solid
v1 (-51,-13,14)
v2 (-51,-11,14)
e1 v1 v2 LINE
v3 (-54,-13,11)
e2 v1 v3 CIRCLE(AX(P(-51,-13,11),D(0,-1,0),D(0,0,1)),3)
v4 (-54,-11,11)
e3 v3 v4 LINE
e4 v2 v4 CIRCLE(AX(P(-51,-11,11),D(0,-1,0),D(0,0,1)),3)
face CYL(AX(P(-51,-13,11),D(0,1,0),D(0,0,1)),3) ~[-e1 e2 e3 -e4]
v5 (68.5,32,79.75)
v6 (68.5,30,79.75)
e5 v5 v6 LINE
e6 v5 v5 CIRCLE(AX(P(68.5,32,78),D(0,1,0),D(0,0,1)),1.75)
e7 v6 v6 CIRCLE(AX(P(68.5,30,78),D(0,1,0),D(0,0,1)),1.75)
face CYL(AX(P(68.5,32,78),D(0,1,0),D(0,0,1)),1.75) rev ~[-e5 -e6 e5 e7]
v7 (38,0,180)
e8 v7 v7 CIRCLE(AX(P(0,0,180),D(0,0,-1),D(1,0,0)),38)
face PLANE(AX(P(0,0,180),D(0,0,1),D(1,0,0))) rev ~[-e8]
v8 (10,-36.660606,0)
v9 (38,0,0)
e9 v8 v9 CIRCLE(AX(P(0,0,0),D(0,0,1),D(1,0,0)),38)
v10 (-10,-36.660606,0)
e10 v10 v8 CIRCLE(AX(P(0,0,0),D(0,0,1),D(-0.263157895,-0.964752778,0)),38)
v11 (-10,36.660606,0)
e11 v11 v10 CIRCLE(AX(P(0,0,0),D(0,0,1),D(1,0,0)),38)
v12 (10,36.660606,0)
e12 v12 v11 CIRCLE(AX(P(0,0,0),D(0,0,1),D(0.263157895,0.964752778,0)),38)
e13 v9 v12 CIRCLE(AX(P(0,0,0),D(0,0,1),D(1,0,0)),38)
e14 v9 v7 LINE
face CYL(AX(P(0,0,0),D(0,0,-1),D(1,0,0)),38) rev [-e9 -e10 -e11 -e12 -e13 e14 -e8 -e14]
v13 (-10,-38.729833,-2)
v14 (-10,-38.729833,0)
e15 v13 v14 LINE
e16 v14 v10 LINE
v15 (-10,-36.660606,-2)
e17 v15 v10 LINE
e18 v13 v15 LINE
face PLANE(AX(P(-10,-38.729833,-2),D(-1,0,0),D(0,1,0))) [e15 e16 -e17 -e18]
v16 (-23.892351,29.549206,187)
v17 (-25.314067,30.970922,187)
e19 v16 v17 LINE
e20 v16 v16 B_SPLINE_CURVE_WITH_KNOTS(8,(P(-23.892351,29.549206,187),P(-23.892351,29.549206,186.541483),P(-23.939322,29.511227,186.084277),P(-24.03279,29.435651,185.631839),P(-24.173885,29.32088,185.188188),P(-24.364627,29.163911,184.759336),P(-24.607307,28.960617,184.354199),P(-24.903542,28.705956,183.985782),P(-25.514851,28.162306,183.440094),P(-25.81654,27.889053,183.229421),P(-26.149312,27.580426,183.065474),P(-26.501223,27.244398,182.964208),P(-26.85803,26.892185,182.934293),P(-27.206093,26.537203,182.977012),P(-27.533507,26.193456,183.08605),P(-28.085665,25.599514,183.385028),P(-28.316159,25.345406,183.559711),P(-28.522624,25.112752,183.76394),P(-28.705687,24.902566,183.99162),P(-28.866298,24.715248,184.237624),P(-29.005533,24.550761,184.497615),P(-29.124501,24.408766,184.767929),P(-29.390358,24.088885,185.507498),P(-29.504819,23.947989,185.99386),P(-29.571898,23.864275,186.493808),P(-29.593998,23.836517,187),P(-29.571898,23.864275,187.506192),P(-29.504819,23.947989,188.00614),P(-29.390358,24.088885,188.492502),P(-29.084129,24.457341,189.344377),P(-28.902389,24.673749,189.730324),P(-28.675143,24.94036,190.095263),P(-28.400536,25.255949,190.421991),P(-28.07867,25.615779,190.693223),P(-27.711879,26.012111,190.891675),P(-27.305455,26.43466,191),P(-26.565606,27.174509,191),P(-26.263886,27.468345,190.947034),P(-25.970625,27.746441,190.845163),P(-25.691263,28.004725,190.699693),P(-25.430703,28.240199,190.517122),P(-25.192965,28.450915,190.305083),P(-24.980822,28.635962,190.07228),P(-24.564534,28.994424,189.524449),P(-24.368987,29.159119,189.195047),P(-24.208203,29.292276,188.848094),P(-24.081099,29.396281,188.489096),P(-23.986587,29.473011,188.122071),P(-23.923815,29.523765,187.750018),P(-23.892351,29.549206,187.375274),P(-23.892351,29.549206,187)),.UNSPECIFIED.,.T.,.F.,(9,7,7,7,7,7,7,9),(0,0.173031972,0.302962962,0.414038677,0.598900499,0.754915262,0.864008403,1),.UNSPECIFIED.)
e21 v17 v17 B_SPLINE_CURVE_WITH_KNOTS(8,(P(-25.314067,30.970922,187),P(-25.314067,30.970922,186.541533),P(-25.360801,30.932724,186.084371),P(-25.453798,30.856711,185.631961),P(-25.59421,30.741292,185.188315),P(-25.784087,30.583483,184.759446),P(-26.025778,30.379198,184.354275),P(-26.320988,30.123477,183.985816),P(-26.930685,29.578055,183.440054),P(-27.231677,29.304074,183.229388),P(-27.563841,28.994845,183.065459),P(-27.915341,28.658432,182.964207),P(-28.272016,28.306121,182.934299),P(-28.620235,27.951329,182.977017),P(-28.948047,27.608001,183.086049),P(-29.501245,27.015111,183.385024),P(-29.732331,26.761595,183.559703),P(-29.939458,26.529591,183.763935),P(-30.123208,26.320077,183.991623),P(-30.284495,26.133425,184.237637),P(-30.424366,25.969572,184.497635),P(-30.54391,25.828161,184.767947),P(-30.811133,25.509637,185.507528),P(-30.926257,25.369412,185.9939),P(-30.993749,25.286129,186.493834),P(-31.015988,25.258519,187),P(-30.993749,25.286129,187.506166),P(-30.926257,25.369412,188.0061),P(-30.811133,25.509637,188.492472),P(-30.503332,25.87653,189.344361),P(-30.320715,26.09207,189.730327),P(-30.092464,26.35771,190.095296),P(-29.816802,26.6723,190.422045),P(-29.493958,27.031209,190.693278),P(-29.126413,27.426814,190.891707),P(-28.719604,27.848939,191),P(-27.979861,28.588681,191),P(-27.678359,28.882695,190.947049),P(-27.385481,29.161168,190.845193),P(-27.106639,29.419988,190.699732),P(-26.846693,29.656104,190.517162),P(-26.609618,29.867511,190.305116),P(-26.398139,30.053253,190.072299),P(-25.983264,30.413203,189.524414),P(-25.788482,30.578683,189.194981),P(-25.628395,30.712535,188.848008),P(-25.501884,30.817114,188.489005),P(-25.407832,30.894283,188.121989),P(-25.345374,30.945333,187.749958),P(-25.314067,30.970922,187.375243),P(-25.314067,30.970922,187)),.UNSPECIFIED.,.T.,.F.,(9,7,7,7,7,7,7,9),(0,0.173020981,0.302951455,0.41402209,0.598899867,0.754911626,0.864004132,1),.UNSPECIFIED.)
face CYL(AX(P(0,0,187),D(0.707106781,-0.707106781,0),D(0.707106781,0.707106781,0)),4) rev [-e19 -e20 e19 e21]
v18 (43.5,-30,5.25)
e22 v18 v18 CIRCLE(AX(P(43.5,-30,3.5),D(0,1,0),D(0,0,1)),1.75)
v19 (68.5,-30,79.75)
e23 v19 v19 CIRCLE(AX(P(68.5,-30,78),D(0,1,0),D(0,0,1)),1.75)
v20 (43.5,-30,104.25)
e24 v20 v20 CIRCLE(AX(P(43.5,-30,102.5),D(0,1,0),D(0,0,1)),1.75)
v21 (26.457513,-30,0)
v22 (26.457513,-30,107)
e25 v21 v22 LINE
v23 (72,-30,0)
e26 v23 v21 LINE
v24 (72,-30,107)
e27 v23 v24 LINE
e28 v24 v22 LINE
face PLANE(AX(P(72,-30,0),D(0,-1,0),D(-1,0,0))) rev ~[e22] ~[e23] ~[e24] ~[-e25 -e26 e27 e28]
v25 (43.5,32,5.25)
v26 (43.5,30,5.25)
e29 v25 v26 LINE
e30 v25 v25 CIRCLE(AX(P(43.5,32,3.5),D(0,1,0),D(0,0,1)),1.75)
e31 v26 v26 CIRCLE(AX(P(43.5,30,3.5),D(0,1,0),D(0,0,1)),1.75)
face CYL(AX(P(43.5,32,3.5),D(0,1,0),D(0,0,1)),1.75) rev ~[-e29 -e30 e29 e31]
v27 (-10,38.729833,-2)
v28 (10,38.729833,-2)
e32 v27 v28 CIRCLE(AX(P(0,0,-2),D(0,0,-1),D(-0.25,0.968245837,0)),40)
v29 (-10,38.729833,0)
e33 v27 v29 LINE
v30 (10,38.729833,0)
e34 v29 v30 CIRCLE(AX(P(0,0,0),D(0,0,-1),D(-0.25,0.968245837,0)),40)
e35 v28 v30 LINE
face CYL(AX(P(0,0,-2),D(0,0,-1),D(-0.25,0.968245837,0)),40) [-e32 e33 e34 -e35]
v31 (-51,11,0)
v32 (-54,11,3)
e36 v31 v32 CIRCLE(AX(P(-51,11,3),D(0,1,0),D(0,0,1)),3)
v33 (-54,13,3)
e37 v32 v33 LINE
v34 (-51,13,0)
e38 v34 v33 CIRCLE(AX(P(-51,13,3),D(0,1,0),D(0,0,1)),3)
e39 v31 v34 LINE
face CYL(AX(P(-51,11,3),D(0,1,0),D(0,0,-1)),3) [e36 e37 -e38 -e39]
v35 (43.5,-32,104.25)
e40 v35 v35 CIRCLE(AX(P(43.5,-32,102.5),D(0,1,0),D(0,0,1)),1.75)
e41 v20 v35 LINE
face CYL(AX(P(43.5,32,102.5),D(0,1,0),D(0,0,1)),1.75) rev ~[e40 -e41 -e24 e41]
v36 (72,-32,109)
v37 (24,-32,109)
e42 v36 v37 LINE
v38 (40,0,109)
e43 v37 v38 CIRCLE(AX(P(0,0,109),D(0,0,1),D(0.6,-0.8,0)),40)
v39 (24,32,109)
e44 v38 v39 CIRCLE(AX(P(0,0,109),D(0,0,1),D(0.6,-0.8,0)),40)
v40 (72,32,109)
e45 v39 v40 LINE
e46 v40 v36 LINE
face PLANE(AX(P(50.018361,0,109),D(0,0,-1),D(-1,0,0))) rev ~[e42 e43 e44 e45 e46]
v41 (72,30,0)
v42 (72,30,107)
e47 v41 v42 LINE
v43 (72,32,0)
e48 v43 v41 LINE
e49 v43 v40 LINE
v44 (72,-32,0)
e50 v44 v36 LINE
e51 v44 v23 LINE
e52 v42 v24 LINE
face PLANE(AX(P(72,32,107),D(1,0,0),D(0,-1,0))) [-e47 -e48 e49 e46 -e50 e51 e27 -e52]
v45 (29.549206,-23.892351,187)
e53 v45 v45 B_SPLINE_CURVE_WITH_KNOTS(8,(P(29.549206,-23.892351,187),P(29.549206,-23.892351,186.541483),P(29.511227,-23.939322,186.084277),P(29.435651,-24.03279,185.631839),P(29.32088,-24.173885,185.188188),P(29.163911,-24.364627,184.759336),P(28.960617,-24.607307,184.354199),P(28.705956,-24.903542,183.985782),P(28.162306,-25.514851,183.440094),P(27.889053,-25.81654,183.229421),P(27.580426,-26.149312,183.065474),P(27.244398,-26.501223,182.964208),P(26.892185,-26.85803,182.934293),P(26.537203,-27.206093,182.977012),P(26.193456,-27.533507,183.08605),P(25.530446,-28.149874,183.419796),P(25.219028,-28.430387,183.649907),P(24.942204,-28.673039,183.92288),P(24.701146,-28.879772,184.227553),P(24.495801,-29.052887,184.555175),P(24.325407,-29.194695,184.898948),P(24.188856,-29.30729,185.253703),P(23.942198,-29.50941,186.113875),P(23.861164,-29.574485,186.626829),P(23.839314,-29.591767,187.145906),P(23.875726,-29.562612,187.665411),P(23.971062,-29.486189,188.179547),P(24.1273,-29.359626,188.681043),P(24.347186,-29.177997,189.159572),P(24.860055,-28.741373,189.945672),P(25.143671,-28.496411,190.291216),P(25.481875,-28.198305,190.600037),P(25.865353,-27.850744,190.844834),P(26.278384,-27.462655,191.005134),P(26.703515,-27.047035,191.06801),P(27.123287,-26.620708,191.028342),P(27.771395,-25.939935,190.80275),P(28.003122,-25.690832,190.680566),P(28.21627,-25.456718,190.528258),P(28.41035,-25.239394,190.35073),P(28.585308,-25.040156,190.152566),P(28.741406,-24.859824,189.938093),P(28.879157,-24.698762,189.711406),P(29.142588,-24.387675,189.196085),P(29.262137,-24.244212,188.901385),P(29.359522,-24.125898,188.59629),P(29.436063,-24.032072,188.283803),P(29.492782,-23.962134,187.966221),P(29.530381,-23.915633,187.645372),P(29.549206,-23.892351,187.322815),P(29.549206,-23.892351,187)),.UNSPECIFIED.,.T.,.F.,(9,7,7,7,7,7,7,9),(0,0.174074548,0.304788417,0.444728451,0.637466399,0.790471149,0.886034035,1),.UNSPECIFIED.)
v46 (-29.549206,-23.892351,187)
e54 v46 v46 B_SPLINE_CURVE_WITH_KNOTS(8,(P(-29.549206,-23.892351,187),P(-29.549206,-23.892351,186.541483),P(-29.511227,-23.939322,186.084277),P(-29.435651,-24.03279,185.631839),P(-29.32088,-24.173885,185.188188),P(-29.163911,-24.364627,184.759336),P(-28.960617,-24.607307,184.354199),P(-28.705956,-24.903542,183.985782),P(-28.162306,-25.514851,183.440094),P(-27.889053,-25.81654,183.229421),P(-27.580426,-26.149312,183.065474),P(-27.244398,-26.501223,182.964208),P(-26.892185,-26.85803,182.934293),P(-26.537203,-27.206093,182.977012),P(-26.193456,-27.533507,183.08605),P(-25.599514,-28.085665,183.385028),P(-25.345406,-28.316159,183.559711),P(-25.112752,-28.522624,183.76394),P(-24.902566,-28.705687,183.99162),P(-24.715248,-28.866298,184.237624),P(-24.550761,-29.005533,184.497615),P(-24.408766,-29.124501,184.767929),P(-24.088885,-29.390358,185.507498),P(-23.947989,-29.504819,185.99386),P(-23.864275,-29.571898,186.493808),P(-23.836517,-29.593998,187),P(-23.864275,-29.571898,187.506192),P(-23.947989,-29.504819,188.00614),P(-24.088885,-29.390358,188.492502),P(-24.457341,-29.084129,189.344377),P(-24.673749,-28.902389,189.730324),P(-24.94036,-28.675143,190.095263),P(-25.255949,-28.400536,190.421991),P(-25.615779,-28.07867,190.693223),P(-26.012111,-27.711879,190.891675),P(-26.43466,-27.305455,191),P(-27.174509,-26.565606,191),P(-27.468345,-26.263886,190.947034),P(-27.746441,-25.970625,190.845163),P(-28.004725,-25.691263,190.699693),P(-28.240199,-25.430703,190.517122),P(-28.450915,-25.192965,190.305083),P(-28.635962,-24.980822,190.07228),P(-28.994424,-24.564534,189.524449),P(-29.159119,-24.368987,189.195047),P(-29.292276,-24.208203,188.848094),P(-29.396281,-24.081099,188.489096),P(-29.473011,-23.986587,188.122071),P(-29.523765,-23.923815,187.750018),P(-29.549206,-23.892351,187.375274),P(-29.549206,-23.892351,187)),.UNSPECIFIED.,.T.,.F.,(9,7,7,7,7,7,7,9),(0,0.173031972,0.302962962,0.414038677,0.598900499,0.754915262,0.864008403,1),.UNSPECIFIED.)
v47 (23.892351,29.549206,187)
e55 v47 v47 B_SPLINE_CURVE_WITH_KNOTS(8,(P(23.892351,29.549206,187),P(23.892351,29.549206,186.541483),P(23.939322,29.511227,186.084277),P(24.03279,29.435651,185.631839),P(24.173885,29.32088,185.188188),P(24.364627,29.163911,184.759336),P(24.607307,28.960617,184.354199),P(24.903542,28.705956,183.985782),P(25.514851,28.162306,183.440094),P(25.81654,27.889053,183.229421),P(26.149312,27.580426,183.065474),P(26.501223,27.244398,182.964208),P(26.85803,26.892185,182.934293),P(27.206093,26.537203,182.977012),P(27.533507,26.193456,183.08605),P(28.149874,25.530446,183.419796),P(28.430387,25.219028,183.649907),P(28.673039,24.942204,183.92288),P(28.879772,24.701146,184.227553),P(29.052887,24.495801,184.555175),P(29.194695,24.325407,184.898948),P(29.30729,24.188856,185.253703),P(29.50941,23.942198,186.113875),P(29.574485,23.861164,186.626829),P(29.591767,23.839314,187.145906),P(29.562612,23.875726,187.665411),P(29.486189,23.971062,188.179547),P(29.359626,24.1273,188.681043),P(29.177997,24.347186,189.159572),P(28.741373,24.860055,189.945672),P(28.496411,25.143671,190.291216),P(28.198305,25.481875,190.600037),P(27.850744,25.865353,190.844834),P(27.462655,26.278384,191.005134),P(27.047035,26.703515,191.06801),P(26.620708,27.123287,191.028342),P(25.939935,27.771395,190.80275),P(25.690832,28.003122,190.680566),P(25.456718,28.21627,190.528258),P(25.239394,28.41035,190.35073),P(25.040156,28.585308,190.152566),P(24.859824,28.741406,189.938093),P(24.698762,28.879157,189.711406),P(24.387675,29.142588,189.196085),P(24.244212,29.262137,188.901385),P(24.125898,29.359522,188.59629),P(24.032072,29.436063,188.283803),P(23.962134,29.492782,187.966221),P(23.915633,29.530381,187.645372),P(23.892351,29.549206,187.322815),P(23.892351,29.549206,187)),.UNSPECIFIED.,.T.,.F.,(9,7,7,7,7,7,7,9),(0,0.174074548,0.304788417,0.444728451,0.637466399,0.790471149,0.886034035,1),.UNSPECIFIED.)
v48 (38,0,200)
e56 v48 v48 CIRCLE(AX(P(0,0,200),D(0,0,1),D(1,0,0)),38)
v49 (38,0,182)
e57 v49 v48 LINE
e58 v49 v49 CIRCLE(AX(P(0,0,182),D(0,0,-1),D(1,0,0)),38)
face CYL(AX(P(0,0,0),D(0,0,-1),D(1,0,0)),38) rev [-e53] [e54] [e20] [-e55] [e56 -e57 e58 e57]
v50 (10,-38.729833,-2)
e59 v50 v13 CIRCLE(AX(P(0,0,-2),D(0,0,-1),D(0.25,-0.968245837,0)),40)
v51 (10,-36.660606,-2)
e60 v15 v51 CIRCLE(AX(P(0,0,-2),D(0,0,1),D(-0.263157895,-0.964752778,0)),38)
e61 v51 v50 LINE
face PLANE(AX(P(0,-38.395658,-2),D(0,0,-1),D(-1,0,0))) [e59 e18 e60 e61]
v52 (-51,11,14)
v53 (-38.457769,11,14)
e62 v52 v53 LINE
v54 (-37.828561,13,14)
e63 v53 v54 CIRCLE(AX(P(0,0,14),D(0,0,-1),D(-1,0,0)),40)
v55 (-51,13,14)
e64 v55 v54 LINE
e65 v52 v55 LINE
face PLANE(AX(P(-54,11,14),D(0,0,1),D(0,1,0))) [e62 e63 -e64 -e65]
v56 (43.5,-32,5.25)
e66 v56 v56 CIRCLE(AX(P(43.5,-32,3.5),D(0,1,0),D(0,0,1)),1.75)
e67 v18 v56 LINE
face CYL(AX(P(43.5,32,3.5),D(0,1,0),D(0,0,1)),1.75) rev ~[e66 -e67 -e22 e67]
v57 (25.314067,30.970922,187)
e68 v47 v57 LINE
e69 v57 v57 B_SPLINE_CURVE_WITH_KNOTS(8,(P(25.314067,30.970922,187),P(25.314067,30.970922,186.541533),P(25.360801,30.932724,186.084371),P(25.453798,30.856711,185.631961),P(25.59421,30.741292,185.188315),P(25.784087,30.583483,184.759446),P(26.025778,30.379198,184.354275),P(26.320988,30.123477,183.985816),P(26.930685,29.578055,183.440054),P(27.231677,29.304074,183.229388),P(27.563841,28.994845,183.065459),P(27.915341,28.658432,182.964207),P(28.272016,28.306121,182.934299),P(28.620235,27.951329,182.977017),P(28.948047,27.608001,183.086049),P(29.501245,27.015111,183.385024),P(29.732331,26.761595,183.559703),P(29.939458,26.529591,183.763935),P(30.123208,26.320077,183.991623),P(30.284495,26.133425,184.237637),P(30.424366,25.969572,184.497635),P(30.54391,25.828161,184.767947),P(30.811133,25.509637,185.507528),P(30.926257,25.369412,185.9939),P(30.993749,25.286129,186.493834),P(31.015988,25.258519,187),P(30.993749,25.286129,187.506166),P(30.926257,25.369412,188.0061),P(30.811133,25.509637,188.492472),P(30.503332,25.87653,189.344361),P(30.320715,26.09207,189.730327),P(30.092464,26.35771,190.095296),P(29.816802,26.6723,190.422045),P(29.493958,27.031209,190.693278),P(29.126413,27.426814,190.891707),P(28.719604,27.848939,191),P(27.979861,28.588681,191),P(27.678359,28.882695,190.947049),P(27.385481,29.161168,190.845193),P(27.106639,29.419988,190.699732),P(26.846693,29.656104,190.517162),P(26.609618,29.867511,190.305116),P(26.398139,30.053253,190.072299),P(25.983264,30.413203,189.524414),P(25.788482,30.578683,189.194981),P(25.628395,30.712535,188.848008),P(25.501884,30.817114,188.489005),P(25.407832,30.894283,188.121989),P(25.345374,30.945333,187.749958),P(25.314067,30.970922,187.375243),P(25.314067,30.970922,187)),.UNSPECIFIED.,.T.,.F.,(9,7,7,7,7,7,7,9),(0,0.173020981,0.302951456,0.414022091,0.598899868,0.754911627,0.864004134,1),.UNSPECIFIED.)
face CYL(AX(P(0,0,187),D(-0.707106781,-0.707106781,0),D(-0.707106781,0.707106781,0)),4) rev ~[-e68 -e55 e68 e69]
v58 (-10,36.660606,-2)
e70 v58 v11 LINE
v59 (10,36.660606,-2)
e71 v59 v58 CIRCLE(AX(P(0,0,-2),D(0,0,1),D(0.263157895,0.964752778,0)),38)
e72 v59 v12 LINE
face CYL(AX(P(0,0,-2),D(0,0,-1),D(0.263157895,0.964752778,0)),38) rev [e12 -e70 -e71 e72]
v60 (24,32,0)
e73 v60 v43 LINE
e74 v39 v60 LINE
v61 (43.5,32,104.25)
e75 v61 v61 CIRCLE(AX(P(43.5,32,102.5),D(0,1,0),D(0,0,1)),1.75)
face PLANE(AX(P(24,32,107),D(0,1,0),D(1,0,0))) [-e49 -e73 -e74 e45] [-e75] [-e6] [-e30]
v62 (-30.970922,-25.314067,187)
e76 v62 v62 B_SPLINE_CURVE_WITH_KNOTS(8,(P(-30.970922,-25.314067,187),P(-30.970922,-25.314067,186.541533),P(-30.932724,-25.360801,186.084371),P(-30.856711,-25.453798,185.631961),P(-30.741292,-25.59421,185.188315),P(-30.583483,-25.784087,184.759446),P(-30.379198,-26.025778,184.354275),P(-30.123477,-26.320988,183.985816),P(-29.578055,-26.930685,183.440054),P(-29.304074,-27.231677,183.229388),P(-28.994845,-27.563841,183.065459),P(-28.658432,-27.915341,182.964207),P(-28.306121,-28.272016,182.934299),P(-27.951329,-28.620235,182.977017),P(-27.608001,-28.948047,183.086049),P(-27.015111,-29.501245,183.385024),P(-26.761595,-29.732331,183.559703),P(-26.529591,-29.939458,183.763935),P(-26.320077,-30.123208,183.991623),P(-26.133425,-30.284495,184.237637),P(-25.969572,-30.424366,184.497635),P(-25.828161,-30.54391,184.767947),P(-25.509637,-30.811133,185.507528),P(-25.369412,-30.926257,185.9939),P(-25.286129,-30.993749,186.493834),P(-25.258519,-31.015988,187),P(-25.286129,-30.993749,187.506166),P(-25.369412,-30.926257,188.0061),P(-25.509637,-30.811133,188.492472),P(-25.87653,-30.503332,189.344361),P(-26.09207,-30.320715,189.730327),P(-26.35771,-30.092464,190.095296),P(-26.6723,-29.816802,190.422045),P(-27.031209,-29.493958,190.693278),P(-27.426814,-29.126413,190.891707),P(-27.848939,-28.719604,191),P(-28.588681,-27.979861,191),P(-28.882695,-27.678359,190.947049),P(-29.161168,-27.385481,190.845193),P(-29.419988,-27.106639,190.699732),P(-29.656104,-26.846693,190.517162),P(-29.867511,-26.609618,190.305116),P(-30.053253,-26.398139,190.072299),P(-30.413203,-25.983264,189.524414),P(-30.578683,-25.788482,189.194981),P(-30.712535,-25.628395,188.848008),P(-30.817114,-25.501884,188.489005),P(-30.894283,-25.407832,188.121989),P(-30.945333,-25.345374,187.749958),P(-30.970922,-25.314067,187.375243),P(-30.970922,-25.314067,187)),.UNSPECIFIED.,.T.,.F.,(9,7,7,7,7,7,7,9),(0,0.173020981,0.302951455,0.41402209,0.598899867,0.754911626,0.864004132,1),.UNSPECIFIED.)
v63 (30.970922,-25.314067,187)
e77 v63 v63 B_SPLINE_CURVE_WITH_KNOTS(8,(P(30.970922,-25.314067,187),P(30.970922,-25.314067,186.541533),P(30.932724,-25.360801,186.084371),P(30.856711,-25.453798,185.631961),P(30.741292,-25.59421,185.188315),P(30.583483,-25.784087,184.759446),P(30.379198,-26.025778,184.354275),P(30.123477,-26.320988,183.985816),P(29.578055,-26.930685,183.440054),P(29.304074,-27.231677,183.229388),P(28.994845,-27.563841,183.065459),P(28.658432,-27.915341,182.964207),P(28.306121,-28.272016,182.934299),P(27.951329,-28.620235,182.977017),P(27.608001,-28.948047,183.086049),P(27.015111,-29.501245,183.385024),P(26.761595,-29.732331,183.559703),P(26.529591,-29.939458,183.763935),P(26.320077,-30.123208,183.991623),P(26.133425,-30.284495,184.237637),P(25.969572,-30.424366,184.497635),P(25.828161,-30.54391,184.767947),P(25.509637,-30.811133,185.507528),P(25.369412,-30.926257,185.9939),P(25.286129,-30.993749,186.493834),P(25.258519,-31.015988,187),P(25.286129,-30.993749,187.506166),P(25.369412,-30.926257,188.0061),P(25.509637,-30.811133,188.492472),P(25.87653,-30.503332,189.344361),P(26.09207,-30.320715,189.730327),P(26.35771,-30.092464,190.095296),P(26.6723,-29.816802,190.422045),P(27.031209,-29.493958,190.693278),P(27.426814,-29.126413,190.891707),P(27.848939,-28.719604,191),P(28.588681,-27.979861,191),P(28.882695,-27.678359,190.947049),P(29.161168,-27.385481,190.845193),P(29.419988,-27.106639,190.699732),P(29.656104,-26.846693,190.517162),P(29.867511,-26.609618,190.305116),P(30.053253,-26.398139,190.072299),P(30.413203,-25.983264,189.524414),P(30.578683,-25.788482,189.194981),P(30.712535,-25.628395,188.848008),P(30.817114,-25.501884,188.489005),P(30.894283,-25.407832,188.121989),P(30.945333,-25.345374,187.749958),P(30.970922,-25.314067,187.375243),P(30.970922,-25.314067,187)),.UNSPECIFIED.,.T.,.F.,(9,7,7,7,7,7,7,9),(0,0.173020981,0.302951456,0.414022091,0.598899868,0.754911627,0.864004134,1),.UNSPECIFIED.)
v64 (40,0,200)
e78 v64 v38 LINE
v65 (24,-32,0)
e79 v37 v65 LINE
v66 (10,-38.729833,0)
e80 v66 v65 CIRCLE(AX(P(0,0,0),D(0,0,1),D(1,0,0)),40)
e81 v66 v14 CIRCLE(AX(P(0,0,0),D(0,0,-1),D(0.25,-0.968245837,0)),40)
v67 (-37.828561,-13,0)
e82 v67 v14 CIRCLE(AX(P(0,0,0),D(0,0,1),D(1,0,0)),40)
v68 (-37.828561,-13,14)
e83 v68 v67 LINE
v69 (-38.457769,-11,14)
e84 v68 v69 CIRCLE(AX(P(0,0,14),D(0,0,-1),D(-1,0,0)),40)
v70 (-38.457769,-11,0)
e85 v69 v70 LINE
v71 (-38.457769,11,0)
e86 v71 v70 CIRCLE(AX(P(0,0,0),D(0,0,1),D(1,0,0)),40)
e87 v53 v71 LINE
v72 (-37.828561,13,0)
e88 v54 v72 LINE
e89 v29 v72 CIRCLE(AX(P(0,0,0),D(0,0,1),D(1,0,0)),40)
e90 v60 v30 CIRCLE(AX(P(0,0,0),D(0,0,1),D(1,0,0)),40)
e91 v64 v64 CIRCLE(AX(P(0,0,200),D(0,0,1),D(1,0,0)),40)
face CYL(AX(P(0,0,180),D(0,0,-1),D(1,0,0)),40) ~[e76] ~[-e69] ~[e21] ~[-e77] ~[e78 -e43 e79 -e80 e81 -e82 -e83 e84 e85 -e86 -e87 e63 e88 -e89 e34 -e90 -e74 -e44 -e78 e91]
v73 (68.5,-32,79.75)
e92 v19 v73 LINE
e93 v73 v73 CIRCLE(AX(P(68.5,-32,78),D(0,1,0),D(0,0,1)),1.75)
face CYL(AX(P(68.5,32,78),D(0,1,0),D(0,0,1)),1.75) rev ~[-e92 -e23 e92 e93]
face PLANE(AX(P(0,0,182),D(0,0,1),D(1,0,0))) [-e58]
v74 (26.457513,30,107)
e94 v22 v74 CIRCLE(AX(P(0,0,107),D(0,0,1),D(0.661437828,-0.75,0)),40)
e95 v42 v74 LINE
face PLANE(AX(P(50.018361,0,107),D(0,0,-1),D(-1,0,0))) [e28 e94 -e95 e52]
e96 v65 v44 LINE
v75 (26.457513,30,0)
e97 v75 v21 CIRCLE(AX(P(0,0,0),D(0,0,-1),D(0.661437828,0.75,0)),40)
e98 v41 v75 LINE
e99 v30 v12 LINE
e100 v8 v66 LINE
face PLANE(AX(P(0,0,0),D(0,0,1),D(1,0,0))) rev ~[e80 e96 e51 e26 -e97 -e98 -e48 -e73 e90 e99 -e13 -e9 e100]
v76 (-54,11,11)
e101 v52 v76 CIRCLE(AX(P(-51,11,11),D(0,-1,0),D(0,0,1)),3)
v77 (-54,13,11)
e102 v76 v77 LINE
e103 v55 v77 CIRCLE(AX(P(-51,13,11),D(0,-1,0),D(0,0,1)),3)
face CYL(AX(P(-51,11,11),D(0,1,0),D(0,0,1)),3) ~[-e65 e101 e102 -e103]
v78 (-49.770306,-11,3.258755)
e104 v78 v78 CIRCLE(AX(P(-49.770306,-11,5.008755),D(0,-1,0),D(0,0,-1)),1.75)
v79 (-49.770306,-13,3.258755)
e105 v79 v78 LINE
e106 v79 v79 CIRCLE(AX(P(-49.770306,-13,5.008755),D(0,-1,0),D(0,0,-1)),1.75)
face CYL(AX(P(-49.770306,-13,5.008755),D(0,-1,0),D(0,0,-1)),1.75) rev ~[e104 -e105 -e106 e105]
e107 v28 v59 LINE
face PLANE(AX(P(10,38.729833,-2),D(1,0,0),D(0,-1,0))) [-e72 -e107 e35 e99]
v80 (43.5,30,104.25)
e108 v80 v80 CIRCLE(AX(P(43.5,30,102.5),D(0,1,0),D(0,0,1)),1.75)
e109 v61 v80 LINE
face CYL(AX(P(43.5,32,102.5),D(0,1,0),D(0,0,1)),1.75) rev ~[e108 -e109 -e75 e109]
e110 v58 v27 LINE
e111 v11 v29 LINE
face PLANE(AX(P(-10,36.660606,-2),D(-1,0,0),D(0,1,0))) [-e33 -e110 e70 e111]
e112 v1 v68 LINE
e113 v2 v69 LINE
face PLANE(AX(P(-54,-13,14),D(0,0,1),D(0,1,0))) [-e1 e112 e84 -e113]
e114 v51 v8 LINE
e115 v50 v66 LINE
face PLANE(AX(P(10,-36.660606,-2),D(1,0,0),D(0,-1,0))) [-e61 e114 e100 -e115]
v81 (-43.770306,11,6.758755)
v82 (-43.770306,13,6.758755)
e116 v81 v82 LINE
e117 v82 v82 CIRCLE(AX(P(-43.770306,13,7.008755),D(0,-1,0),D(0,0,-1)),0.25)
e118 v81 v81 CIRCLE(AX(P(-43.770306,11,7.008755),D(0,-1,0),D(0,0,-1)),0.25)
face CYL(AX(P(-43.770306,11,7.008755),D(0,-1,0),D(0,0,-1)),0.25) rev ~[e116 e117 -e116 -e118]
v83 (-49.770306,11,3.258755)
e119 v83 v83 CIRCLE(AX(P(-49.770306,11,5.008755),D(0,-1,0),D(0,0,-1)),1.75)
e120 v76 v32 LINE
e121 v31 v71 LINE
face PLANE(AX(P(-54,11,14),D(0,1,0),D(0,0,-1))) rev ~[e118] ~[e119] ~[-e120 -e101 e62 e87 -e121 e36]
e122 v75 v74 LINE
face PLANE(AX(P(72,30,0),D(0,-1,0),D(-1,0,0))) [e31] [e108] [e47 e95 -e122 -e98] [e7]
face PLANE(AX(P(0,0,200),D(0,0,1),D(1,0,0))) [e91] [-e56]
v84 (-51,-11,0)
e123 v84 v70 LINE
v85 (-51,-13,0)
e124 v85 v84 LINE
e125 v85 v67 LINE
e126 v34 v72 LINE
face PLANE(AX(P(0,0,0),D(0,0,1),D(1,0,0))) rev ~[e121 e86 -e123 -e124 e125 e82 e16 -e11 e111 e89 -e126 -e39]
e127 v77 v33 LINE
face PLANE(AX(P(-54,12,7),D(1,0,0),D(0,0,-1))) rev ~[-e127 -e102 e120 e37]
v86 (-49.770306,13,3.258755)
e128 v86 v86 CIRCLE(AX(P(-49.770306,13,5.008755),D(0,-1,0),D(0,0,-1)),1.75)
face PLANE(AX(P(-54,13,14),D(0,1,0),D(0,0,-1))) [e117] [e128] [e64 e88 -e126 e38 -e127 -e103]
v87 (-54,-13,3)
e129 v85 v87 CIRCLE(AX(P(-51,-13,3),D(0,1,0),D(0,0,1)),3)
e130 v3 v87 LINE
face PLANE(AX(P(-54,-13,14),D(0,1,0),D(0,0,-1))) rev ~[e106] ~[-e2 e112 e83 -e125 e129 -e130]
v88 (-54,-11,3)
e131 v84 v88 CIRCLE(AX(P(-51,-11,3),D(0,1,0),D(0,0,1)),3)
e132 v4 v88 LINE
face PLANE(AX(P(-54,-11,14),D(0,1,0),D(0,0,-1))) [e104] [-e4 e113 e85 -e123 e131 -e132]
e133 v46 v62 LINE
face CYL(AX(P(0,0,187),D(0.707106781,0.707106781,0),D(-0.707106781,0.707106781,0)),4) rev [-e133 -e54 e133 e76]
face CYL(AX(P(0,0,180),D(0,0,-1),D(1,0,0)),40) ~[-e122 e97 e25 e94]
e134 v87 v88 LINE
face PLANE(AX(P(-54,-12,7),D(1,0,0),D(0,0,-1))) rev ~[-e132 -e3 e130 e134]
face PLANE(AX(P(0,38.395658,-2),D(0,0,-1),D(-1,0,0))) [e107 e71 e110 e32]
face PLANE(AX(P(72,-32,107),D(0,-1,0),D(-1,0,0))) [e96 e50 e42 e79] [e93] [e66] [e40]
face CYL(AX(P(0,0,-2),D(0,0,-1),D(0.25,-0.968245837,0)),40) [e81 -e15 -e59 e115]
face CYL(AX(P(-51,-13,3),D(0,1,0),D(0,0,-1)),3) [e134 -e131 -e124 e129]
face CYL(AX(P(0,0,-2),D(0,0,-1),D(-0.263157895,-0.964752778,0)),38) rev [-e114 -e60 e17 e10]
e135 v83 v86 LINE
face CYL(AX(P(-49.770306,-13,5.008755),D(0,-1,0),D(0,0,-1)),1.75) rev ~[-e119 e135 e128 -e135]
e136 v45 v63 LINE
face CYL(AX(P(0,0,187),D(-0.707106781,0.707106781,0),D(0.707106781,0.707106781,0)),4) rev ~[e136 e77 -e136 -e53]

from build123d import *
from build123d.topology import SkipClean

# Parameters (mm, degrees)
SKETCH1_R                      = 40
SKETCH1_R_2                    = 38
BOSS_EXTRUDE1_DEPTH            = 200
SKETCH2_R                      = 40
BOSS_EXTRUDE2_DEPTH            = 2
BOSS_EXTRUDE3_DEPTH            = 107
BOSS_EXTRUDE4_DEPTH            = 2
SKETCH5_R                      = 1.75
CUT_EXTRUDE1_DEPTH             = 225.428162226
CUT_EXTRUDE2_REACH             = 218.296
SKETCH6_R                      = 4
CUT_EXTRUDE2_DIRECTION_2_REACH = 218.296
CIRPATTERN1_COUNT              = 2
CIRPATTERN1_ANGLE              = 90
BOSS_EXTRUDE5_REACH            = 241.742
BOSS_EXTRUDE5_END_RADIUS       = 40
SKETCH7_W                      = 14
SKETCH7_H                      = 2
CUT_EXTRUDE3_REACH             = 221.073
SKETCH8_R                      = 1.75
FILLET1_R                      = 3
CUT_EXTRUDE4_REACH             = 220.598
SKETCH9_R                      = 0.25
BOSS_EXTRUDE6_START            = 2
BOSS_EXTRUDE6_DEPTH            = 2


with BuildPart() as part:
    # Sketch1 → Boss-Extrude1 (new body)
    with BuildSketch(Plane.XY):
        Circle(SKETCH1_R)
        Circle(SKETCH1_R_2, mode=Mode.SUBTRACT)
    extrude(amount=BOSS_EXTRUDE1_DEPTH)

    # Sketch2 → Boss-Extrude2 (add)
    with BuildSketch(Plane.XY.offset(180)):
        Circle(SKETCH2_R)
    extrude(amount=BOSS_EXTRUDE2_DEPTH)

    # Sketch3 → Boss-Extrude3 (add)
    with BuildSketch(Plane(origin=(0, 0, 0), x_dir=(-1, 0, 0), z_dir=(0, 0, -1))):
        with BuildLine():
            Line((-24, -32), (-72, -32))
            Line((-72, -32), (-72, -30))
            Line((-72, -30), (-26.457513111, -30))
            ThreePointArc((-26.457513111, -30), (-25.248567431, -31.024342744), (-24, -32))
        make_face()
        with BuildLine():
            Line((-24, 32), (-72, 32))
            Line((-72, 32), (-72, 30))
            Line((-72, 30), (-26.457513111, 30))
            ThreePointArc((-26.457513111, 30), (-25.248567431, 31.024342744), (-24, 32))
        make_face()
    extrude(amount=-BOSS_EXTRUDE3_DEPTH)

    # Sketch4 → Boss-Extrude4 (add)
    with BuildSketch(Plane.XY.offset(107)):
        with BuildLine():
            Line((72, -32), (24, -32))
            ThreePointArc((24, -32), (40, 0), (24, 32))
            Line((24, 32), (72, 32))
            Line((72, 32), (72, -32))
        make_face()
    extrude(amount=BOSS_EXTRUDE4_DEPTH)

    # Sketch5 → Cut-Extrude1 (cut, through all)
    with BuildSketch(Plane(origin=(0, 32, 0), x_dir=(1, 0, 0), z_dir=(0, 1, 0))):
        with Locations(Location((43.5, -102.5, 0), (0, 0, 270))):
            Circle(SKETCH5_R)
        with Locations(Location((43.5, -3.5, 0), (0, 0, 270))):
            Circle(SKETCH5_R)
        with Locations(Location((68.5, -78, 0), (0, 0, 270))):
            Circle(SKETCH5_R)
    extrude(amount=-CUT_EXTRUDE1_DEPTH, mode=Mode.SUBTRACT)

    # Sketch6 → Cut-Extrude2 (cut, up to next)
    with BuildSketch(Plane(origin=(0, 0, 0), x_dir=(0, 0, 1), z_dir=(-0.7071067811865488, 0.7071067811865464, 0)), mode=Mode.PRIVATE) as cut_extrude2_sk1:
        with Locations(Location((187, 0, 0), (0, 0, 90))):
            Circle(SKETCH6_R)
    cut_extrude2_tool1 = extrude(cut_extrude2_sk1.sketch, amount=-CUT_EXTRUDE2_REACH, mode=Mode.PRIVATE) & part.part
    cut_extrude2 = cut_extrude2_tool1.solids().sort_by_distance((0, 0, 187))[0]
    add(cut_extrude2, mode=Mode.SUBTRACT)

    # Sketch6 → Cut-Extrude2 direction 2 (cut, up to next)
    with BuildSketch(Plane(origin=(0, 0, 0), x_dir=(0, 0, 1), z_dir=(-0.7071067811865488, 0.7071067811865464, 0)), mode=Mode.PRIVATE) as cut_extrude2_direction_2_sk1:
        with Locations(Location((187, 0, 0), (0, 0, 90))):
            Circle(SKETCH6_R)
    cut_extrude2_direction_2_tool1 = extrude(cut_extrude2_direction_2_sk1.sketch, amount=CUT_EXTRUDE2_DIRECTION_2_REACH, mode=Mode.PRIVATE) & part.part
    cut_extrude2_direction_2 = cut_extrude2_direction_2_tool1.solids().sort_by_distance((0, 0, 187))[0]
    add(cut_extrude2_direction_2, mode=Mode.SUBTRACT)

    # CirPattern1: Cut-Extrude2, Cut-Extrude2 direction 2 ×2 about axis
    cirpattern1_axis = Axis((0, 0, -12.1), (0, 0, 1))
    add([cut_extrude2.rotate(cirpattern1_axis, i * CIRPATTERN1_ANGLE / (CIRPATTERN1_COUNT - 1)) for i in range(1, CIRPATTERN1_COUNT)], mode=Mode.SUBTRACT)
    add([cut_extrude2_direction_2.rotate(cirpattern1_axis, i * CIRPATTERN1_ANGLE / (CIRPATTERN1_COUNT - 1)) for i in range(1, CIRPATTERN1_COUNT)], mode=Mode.SUBTRACT)

    # Boss-Extrude5: up to this cylinder (the profile starts outside it)
    boss_extrude5_end = Plane(origin=(0, 0, 7), z_dir=(0, 0, -1)) * Cylinder(BOSS_EXTRUDE5_END_RADIUS, 564.484, mode=Mode.PRIVATE)
    # Sketch7 → Boss-Extrude5 (add, up to the surface)
    with BuildSketch(Plane(origin=(-54, 0, 0), x_dir=(0, 0, -1), z_dir=(1, 0, 0)), mode=Mode.PRIVATE) as boss_extrude5_sk1:
        with Locations((-7, -12)):
            Rectangle(SKETCH7_W, SKETCH7_H)
    boss_extrude5_tool1 = extrude(boss_extrude5_sk1.sketch, amount=BOSS_EXTRUDE5_REACH, mode=Mode.PRIVATE) - boss_extrude5_end
    add(boss_extrude5_tool1.solids().sort_by_distance((-54, -12, 7))[0])
    # Sketch7 → Boss-Extrude5 (add, up to the surface)
    with BuildSketch(Plane(origin=(-54, 0, 0), x_dir=(0, 0, -1), z_dir=(1, 0, 0)), mode=Mode.PRIVATE) as boss_extrude5_sk2:
        with Locations((-7, 12)):
            Rectangle(SKETCH7_W, SKETCH7_H)
    boss_extrude5_tool2 = extrude(boss_extrude5_sk2.sketch, amount=BOSS_EXTRUDE5_REACH, mode=Mode.PRIVATE) - boss_extrude5_end
    add(boss_extrude5_tool2.solids().sort_by_distance((-54, 12, 7))[0])

    # Cut-Extrude3: up to this face of the body (flat: up to its plane)
    cut_extrude3_end = Plane(part.part.faces().sort_by_distance((-45.914280319, 13, 7))[0])
    # Sketch8 → Cut-Extrude3 (cut, up to the picked face)
    with BuildSketch(Plane.XZ.offset(13), mode=Mode.PRIVATE) as cut_extrude3_sk1:
        with Locations(Location((-49.770305539, 5.008755099, 0), (0, 0, 270))):
            Circle(SKETCH8_R)
    cut_extrude3_tool1 = split(extrude(cut_extrude3_sk1.sketch, amount=-CUT_EXTRUDE3_REACH, mode=Mode.PRIVATE), bisect_by=cut_extrude3_end, keep=Keep.BOTH, mode=Mode.PRIVATE)
    add(cut_extrude3_tool1.solids().sort_by(Axis((-49.770306, -13, 5.008755), (0, 1, 0)))[0], mode=Mode.SUBTRACT)

    # Fillet1
    fillet1_edges = [part.edges().sort_by_distance(p)[0] for p in [
        (-54, -12, 14),
        (-54, -12, 0),
        (-54, 12, 0),
        (-54, 12, 14),
    ]]
    fillet(fillet1_edges, radius=FILLET1_R)

    # Sketch9 → Cut-Extrude4 (cut, up to next)
    with BuildSketch(Plane.XZ.offset(-11), mode=Mode.PRIVATE) as cut_extrude4_sk1:
        with Locations(Location((-43.770305539, 7.008755099, 0), (0, 0, 270))):
            Circle(SKETCH9_R)
    cut_extrude4_tool1 = extrude(cut_extrude4_sk1.sketch, amount=-CUT_EXTRUDE4_REACH, mode=Mode.PRIVATE) & part.part
    add(cut_extrude4_tool1.solids().sort_by_distance((-43.770306, 11, 7.008755))[0], mode=Mode.SUBTRACT)

    # Sketch10 → Boss-Extrude6 (add)
    with SkipClean():  # the faces are left unmerged after this step: merging them gives an invalid solid
        with BuildSketch(Plane(origin=(0, 0, 0), x_dir=(-1, 0, 0), z_dir=(0, 0, -1)).offset(BOSS_EXTRUDE6_START)):
            with BuildLine():
                ThreePointArc((10, -36.66060556), (0, -38), (-10, -36.66060556))
                Line((-10, -36.66060556), (-10, -38.729833462))
                ThreePointArc((-10, -38.729833462), (0, -40), (10, -38.729833462))
                Line((10, -38.729833462), (10, -36.66060556))
            make_face()
            with BuildLine():
                ThreePointArc((10, 38.729833462), (0, 40), (-10, 38.729833462))
                Line((-10, 38.729833462), (-10, 36.66060556))
                ThreePointArc((-10, 36.66060556), (0, 38), (10, 36.66060556))
                Line((10, 36.66060556), (10, 38.729833462))
            make_face()
        extrude(amount=-BOSS_EXTRUDE6_DEPTH)


solid = part.part
